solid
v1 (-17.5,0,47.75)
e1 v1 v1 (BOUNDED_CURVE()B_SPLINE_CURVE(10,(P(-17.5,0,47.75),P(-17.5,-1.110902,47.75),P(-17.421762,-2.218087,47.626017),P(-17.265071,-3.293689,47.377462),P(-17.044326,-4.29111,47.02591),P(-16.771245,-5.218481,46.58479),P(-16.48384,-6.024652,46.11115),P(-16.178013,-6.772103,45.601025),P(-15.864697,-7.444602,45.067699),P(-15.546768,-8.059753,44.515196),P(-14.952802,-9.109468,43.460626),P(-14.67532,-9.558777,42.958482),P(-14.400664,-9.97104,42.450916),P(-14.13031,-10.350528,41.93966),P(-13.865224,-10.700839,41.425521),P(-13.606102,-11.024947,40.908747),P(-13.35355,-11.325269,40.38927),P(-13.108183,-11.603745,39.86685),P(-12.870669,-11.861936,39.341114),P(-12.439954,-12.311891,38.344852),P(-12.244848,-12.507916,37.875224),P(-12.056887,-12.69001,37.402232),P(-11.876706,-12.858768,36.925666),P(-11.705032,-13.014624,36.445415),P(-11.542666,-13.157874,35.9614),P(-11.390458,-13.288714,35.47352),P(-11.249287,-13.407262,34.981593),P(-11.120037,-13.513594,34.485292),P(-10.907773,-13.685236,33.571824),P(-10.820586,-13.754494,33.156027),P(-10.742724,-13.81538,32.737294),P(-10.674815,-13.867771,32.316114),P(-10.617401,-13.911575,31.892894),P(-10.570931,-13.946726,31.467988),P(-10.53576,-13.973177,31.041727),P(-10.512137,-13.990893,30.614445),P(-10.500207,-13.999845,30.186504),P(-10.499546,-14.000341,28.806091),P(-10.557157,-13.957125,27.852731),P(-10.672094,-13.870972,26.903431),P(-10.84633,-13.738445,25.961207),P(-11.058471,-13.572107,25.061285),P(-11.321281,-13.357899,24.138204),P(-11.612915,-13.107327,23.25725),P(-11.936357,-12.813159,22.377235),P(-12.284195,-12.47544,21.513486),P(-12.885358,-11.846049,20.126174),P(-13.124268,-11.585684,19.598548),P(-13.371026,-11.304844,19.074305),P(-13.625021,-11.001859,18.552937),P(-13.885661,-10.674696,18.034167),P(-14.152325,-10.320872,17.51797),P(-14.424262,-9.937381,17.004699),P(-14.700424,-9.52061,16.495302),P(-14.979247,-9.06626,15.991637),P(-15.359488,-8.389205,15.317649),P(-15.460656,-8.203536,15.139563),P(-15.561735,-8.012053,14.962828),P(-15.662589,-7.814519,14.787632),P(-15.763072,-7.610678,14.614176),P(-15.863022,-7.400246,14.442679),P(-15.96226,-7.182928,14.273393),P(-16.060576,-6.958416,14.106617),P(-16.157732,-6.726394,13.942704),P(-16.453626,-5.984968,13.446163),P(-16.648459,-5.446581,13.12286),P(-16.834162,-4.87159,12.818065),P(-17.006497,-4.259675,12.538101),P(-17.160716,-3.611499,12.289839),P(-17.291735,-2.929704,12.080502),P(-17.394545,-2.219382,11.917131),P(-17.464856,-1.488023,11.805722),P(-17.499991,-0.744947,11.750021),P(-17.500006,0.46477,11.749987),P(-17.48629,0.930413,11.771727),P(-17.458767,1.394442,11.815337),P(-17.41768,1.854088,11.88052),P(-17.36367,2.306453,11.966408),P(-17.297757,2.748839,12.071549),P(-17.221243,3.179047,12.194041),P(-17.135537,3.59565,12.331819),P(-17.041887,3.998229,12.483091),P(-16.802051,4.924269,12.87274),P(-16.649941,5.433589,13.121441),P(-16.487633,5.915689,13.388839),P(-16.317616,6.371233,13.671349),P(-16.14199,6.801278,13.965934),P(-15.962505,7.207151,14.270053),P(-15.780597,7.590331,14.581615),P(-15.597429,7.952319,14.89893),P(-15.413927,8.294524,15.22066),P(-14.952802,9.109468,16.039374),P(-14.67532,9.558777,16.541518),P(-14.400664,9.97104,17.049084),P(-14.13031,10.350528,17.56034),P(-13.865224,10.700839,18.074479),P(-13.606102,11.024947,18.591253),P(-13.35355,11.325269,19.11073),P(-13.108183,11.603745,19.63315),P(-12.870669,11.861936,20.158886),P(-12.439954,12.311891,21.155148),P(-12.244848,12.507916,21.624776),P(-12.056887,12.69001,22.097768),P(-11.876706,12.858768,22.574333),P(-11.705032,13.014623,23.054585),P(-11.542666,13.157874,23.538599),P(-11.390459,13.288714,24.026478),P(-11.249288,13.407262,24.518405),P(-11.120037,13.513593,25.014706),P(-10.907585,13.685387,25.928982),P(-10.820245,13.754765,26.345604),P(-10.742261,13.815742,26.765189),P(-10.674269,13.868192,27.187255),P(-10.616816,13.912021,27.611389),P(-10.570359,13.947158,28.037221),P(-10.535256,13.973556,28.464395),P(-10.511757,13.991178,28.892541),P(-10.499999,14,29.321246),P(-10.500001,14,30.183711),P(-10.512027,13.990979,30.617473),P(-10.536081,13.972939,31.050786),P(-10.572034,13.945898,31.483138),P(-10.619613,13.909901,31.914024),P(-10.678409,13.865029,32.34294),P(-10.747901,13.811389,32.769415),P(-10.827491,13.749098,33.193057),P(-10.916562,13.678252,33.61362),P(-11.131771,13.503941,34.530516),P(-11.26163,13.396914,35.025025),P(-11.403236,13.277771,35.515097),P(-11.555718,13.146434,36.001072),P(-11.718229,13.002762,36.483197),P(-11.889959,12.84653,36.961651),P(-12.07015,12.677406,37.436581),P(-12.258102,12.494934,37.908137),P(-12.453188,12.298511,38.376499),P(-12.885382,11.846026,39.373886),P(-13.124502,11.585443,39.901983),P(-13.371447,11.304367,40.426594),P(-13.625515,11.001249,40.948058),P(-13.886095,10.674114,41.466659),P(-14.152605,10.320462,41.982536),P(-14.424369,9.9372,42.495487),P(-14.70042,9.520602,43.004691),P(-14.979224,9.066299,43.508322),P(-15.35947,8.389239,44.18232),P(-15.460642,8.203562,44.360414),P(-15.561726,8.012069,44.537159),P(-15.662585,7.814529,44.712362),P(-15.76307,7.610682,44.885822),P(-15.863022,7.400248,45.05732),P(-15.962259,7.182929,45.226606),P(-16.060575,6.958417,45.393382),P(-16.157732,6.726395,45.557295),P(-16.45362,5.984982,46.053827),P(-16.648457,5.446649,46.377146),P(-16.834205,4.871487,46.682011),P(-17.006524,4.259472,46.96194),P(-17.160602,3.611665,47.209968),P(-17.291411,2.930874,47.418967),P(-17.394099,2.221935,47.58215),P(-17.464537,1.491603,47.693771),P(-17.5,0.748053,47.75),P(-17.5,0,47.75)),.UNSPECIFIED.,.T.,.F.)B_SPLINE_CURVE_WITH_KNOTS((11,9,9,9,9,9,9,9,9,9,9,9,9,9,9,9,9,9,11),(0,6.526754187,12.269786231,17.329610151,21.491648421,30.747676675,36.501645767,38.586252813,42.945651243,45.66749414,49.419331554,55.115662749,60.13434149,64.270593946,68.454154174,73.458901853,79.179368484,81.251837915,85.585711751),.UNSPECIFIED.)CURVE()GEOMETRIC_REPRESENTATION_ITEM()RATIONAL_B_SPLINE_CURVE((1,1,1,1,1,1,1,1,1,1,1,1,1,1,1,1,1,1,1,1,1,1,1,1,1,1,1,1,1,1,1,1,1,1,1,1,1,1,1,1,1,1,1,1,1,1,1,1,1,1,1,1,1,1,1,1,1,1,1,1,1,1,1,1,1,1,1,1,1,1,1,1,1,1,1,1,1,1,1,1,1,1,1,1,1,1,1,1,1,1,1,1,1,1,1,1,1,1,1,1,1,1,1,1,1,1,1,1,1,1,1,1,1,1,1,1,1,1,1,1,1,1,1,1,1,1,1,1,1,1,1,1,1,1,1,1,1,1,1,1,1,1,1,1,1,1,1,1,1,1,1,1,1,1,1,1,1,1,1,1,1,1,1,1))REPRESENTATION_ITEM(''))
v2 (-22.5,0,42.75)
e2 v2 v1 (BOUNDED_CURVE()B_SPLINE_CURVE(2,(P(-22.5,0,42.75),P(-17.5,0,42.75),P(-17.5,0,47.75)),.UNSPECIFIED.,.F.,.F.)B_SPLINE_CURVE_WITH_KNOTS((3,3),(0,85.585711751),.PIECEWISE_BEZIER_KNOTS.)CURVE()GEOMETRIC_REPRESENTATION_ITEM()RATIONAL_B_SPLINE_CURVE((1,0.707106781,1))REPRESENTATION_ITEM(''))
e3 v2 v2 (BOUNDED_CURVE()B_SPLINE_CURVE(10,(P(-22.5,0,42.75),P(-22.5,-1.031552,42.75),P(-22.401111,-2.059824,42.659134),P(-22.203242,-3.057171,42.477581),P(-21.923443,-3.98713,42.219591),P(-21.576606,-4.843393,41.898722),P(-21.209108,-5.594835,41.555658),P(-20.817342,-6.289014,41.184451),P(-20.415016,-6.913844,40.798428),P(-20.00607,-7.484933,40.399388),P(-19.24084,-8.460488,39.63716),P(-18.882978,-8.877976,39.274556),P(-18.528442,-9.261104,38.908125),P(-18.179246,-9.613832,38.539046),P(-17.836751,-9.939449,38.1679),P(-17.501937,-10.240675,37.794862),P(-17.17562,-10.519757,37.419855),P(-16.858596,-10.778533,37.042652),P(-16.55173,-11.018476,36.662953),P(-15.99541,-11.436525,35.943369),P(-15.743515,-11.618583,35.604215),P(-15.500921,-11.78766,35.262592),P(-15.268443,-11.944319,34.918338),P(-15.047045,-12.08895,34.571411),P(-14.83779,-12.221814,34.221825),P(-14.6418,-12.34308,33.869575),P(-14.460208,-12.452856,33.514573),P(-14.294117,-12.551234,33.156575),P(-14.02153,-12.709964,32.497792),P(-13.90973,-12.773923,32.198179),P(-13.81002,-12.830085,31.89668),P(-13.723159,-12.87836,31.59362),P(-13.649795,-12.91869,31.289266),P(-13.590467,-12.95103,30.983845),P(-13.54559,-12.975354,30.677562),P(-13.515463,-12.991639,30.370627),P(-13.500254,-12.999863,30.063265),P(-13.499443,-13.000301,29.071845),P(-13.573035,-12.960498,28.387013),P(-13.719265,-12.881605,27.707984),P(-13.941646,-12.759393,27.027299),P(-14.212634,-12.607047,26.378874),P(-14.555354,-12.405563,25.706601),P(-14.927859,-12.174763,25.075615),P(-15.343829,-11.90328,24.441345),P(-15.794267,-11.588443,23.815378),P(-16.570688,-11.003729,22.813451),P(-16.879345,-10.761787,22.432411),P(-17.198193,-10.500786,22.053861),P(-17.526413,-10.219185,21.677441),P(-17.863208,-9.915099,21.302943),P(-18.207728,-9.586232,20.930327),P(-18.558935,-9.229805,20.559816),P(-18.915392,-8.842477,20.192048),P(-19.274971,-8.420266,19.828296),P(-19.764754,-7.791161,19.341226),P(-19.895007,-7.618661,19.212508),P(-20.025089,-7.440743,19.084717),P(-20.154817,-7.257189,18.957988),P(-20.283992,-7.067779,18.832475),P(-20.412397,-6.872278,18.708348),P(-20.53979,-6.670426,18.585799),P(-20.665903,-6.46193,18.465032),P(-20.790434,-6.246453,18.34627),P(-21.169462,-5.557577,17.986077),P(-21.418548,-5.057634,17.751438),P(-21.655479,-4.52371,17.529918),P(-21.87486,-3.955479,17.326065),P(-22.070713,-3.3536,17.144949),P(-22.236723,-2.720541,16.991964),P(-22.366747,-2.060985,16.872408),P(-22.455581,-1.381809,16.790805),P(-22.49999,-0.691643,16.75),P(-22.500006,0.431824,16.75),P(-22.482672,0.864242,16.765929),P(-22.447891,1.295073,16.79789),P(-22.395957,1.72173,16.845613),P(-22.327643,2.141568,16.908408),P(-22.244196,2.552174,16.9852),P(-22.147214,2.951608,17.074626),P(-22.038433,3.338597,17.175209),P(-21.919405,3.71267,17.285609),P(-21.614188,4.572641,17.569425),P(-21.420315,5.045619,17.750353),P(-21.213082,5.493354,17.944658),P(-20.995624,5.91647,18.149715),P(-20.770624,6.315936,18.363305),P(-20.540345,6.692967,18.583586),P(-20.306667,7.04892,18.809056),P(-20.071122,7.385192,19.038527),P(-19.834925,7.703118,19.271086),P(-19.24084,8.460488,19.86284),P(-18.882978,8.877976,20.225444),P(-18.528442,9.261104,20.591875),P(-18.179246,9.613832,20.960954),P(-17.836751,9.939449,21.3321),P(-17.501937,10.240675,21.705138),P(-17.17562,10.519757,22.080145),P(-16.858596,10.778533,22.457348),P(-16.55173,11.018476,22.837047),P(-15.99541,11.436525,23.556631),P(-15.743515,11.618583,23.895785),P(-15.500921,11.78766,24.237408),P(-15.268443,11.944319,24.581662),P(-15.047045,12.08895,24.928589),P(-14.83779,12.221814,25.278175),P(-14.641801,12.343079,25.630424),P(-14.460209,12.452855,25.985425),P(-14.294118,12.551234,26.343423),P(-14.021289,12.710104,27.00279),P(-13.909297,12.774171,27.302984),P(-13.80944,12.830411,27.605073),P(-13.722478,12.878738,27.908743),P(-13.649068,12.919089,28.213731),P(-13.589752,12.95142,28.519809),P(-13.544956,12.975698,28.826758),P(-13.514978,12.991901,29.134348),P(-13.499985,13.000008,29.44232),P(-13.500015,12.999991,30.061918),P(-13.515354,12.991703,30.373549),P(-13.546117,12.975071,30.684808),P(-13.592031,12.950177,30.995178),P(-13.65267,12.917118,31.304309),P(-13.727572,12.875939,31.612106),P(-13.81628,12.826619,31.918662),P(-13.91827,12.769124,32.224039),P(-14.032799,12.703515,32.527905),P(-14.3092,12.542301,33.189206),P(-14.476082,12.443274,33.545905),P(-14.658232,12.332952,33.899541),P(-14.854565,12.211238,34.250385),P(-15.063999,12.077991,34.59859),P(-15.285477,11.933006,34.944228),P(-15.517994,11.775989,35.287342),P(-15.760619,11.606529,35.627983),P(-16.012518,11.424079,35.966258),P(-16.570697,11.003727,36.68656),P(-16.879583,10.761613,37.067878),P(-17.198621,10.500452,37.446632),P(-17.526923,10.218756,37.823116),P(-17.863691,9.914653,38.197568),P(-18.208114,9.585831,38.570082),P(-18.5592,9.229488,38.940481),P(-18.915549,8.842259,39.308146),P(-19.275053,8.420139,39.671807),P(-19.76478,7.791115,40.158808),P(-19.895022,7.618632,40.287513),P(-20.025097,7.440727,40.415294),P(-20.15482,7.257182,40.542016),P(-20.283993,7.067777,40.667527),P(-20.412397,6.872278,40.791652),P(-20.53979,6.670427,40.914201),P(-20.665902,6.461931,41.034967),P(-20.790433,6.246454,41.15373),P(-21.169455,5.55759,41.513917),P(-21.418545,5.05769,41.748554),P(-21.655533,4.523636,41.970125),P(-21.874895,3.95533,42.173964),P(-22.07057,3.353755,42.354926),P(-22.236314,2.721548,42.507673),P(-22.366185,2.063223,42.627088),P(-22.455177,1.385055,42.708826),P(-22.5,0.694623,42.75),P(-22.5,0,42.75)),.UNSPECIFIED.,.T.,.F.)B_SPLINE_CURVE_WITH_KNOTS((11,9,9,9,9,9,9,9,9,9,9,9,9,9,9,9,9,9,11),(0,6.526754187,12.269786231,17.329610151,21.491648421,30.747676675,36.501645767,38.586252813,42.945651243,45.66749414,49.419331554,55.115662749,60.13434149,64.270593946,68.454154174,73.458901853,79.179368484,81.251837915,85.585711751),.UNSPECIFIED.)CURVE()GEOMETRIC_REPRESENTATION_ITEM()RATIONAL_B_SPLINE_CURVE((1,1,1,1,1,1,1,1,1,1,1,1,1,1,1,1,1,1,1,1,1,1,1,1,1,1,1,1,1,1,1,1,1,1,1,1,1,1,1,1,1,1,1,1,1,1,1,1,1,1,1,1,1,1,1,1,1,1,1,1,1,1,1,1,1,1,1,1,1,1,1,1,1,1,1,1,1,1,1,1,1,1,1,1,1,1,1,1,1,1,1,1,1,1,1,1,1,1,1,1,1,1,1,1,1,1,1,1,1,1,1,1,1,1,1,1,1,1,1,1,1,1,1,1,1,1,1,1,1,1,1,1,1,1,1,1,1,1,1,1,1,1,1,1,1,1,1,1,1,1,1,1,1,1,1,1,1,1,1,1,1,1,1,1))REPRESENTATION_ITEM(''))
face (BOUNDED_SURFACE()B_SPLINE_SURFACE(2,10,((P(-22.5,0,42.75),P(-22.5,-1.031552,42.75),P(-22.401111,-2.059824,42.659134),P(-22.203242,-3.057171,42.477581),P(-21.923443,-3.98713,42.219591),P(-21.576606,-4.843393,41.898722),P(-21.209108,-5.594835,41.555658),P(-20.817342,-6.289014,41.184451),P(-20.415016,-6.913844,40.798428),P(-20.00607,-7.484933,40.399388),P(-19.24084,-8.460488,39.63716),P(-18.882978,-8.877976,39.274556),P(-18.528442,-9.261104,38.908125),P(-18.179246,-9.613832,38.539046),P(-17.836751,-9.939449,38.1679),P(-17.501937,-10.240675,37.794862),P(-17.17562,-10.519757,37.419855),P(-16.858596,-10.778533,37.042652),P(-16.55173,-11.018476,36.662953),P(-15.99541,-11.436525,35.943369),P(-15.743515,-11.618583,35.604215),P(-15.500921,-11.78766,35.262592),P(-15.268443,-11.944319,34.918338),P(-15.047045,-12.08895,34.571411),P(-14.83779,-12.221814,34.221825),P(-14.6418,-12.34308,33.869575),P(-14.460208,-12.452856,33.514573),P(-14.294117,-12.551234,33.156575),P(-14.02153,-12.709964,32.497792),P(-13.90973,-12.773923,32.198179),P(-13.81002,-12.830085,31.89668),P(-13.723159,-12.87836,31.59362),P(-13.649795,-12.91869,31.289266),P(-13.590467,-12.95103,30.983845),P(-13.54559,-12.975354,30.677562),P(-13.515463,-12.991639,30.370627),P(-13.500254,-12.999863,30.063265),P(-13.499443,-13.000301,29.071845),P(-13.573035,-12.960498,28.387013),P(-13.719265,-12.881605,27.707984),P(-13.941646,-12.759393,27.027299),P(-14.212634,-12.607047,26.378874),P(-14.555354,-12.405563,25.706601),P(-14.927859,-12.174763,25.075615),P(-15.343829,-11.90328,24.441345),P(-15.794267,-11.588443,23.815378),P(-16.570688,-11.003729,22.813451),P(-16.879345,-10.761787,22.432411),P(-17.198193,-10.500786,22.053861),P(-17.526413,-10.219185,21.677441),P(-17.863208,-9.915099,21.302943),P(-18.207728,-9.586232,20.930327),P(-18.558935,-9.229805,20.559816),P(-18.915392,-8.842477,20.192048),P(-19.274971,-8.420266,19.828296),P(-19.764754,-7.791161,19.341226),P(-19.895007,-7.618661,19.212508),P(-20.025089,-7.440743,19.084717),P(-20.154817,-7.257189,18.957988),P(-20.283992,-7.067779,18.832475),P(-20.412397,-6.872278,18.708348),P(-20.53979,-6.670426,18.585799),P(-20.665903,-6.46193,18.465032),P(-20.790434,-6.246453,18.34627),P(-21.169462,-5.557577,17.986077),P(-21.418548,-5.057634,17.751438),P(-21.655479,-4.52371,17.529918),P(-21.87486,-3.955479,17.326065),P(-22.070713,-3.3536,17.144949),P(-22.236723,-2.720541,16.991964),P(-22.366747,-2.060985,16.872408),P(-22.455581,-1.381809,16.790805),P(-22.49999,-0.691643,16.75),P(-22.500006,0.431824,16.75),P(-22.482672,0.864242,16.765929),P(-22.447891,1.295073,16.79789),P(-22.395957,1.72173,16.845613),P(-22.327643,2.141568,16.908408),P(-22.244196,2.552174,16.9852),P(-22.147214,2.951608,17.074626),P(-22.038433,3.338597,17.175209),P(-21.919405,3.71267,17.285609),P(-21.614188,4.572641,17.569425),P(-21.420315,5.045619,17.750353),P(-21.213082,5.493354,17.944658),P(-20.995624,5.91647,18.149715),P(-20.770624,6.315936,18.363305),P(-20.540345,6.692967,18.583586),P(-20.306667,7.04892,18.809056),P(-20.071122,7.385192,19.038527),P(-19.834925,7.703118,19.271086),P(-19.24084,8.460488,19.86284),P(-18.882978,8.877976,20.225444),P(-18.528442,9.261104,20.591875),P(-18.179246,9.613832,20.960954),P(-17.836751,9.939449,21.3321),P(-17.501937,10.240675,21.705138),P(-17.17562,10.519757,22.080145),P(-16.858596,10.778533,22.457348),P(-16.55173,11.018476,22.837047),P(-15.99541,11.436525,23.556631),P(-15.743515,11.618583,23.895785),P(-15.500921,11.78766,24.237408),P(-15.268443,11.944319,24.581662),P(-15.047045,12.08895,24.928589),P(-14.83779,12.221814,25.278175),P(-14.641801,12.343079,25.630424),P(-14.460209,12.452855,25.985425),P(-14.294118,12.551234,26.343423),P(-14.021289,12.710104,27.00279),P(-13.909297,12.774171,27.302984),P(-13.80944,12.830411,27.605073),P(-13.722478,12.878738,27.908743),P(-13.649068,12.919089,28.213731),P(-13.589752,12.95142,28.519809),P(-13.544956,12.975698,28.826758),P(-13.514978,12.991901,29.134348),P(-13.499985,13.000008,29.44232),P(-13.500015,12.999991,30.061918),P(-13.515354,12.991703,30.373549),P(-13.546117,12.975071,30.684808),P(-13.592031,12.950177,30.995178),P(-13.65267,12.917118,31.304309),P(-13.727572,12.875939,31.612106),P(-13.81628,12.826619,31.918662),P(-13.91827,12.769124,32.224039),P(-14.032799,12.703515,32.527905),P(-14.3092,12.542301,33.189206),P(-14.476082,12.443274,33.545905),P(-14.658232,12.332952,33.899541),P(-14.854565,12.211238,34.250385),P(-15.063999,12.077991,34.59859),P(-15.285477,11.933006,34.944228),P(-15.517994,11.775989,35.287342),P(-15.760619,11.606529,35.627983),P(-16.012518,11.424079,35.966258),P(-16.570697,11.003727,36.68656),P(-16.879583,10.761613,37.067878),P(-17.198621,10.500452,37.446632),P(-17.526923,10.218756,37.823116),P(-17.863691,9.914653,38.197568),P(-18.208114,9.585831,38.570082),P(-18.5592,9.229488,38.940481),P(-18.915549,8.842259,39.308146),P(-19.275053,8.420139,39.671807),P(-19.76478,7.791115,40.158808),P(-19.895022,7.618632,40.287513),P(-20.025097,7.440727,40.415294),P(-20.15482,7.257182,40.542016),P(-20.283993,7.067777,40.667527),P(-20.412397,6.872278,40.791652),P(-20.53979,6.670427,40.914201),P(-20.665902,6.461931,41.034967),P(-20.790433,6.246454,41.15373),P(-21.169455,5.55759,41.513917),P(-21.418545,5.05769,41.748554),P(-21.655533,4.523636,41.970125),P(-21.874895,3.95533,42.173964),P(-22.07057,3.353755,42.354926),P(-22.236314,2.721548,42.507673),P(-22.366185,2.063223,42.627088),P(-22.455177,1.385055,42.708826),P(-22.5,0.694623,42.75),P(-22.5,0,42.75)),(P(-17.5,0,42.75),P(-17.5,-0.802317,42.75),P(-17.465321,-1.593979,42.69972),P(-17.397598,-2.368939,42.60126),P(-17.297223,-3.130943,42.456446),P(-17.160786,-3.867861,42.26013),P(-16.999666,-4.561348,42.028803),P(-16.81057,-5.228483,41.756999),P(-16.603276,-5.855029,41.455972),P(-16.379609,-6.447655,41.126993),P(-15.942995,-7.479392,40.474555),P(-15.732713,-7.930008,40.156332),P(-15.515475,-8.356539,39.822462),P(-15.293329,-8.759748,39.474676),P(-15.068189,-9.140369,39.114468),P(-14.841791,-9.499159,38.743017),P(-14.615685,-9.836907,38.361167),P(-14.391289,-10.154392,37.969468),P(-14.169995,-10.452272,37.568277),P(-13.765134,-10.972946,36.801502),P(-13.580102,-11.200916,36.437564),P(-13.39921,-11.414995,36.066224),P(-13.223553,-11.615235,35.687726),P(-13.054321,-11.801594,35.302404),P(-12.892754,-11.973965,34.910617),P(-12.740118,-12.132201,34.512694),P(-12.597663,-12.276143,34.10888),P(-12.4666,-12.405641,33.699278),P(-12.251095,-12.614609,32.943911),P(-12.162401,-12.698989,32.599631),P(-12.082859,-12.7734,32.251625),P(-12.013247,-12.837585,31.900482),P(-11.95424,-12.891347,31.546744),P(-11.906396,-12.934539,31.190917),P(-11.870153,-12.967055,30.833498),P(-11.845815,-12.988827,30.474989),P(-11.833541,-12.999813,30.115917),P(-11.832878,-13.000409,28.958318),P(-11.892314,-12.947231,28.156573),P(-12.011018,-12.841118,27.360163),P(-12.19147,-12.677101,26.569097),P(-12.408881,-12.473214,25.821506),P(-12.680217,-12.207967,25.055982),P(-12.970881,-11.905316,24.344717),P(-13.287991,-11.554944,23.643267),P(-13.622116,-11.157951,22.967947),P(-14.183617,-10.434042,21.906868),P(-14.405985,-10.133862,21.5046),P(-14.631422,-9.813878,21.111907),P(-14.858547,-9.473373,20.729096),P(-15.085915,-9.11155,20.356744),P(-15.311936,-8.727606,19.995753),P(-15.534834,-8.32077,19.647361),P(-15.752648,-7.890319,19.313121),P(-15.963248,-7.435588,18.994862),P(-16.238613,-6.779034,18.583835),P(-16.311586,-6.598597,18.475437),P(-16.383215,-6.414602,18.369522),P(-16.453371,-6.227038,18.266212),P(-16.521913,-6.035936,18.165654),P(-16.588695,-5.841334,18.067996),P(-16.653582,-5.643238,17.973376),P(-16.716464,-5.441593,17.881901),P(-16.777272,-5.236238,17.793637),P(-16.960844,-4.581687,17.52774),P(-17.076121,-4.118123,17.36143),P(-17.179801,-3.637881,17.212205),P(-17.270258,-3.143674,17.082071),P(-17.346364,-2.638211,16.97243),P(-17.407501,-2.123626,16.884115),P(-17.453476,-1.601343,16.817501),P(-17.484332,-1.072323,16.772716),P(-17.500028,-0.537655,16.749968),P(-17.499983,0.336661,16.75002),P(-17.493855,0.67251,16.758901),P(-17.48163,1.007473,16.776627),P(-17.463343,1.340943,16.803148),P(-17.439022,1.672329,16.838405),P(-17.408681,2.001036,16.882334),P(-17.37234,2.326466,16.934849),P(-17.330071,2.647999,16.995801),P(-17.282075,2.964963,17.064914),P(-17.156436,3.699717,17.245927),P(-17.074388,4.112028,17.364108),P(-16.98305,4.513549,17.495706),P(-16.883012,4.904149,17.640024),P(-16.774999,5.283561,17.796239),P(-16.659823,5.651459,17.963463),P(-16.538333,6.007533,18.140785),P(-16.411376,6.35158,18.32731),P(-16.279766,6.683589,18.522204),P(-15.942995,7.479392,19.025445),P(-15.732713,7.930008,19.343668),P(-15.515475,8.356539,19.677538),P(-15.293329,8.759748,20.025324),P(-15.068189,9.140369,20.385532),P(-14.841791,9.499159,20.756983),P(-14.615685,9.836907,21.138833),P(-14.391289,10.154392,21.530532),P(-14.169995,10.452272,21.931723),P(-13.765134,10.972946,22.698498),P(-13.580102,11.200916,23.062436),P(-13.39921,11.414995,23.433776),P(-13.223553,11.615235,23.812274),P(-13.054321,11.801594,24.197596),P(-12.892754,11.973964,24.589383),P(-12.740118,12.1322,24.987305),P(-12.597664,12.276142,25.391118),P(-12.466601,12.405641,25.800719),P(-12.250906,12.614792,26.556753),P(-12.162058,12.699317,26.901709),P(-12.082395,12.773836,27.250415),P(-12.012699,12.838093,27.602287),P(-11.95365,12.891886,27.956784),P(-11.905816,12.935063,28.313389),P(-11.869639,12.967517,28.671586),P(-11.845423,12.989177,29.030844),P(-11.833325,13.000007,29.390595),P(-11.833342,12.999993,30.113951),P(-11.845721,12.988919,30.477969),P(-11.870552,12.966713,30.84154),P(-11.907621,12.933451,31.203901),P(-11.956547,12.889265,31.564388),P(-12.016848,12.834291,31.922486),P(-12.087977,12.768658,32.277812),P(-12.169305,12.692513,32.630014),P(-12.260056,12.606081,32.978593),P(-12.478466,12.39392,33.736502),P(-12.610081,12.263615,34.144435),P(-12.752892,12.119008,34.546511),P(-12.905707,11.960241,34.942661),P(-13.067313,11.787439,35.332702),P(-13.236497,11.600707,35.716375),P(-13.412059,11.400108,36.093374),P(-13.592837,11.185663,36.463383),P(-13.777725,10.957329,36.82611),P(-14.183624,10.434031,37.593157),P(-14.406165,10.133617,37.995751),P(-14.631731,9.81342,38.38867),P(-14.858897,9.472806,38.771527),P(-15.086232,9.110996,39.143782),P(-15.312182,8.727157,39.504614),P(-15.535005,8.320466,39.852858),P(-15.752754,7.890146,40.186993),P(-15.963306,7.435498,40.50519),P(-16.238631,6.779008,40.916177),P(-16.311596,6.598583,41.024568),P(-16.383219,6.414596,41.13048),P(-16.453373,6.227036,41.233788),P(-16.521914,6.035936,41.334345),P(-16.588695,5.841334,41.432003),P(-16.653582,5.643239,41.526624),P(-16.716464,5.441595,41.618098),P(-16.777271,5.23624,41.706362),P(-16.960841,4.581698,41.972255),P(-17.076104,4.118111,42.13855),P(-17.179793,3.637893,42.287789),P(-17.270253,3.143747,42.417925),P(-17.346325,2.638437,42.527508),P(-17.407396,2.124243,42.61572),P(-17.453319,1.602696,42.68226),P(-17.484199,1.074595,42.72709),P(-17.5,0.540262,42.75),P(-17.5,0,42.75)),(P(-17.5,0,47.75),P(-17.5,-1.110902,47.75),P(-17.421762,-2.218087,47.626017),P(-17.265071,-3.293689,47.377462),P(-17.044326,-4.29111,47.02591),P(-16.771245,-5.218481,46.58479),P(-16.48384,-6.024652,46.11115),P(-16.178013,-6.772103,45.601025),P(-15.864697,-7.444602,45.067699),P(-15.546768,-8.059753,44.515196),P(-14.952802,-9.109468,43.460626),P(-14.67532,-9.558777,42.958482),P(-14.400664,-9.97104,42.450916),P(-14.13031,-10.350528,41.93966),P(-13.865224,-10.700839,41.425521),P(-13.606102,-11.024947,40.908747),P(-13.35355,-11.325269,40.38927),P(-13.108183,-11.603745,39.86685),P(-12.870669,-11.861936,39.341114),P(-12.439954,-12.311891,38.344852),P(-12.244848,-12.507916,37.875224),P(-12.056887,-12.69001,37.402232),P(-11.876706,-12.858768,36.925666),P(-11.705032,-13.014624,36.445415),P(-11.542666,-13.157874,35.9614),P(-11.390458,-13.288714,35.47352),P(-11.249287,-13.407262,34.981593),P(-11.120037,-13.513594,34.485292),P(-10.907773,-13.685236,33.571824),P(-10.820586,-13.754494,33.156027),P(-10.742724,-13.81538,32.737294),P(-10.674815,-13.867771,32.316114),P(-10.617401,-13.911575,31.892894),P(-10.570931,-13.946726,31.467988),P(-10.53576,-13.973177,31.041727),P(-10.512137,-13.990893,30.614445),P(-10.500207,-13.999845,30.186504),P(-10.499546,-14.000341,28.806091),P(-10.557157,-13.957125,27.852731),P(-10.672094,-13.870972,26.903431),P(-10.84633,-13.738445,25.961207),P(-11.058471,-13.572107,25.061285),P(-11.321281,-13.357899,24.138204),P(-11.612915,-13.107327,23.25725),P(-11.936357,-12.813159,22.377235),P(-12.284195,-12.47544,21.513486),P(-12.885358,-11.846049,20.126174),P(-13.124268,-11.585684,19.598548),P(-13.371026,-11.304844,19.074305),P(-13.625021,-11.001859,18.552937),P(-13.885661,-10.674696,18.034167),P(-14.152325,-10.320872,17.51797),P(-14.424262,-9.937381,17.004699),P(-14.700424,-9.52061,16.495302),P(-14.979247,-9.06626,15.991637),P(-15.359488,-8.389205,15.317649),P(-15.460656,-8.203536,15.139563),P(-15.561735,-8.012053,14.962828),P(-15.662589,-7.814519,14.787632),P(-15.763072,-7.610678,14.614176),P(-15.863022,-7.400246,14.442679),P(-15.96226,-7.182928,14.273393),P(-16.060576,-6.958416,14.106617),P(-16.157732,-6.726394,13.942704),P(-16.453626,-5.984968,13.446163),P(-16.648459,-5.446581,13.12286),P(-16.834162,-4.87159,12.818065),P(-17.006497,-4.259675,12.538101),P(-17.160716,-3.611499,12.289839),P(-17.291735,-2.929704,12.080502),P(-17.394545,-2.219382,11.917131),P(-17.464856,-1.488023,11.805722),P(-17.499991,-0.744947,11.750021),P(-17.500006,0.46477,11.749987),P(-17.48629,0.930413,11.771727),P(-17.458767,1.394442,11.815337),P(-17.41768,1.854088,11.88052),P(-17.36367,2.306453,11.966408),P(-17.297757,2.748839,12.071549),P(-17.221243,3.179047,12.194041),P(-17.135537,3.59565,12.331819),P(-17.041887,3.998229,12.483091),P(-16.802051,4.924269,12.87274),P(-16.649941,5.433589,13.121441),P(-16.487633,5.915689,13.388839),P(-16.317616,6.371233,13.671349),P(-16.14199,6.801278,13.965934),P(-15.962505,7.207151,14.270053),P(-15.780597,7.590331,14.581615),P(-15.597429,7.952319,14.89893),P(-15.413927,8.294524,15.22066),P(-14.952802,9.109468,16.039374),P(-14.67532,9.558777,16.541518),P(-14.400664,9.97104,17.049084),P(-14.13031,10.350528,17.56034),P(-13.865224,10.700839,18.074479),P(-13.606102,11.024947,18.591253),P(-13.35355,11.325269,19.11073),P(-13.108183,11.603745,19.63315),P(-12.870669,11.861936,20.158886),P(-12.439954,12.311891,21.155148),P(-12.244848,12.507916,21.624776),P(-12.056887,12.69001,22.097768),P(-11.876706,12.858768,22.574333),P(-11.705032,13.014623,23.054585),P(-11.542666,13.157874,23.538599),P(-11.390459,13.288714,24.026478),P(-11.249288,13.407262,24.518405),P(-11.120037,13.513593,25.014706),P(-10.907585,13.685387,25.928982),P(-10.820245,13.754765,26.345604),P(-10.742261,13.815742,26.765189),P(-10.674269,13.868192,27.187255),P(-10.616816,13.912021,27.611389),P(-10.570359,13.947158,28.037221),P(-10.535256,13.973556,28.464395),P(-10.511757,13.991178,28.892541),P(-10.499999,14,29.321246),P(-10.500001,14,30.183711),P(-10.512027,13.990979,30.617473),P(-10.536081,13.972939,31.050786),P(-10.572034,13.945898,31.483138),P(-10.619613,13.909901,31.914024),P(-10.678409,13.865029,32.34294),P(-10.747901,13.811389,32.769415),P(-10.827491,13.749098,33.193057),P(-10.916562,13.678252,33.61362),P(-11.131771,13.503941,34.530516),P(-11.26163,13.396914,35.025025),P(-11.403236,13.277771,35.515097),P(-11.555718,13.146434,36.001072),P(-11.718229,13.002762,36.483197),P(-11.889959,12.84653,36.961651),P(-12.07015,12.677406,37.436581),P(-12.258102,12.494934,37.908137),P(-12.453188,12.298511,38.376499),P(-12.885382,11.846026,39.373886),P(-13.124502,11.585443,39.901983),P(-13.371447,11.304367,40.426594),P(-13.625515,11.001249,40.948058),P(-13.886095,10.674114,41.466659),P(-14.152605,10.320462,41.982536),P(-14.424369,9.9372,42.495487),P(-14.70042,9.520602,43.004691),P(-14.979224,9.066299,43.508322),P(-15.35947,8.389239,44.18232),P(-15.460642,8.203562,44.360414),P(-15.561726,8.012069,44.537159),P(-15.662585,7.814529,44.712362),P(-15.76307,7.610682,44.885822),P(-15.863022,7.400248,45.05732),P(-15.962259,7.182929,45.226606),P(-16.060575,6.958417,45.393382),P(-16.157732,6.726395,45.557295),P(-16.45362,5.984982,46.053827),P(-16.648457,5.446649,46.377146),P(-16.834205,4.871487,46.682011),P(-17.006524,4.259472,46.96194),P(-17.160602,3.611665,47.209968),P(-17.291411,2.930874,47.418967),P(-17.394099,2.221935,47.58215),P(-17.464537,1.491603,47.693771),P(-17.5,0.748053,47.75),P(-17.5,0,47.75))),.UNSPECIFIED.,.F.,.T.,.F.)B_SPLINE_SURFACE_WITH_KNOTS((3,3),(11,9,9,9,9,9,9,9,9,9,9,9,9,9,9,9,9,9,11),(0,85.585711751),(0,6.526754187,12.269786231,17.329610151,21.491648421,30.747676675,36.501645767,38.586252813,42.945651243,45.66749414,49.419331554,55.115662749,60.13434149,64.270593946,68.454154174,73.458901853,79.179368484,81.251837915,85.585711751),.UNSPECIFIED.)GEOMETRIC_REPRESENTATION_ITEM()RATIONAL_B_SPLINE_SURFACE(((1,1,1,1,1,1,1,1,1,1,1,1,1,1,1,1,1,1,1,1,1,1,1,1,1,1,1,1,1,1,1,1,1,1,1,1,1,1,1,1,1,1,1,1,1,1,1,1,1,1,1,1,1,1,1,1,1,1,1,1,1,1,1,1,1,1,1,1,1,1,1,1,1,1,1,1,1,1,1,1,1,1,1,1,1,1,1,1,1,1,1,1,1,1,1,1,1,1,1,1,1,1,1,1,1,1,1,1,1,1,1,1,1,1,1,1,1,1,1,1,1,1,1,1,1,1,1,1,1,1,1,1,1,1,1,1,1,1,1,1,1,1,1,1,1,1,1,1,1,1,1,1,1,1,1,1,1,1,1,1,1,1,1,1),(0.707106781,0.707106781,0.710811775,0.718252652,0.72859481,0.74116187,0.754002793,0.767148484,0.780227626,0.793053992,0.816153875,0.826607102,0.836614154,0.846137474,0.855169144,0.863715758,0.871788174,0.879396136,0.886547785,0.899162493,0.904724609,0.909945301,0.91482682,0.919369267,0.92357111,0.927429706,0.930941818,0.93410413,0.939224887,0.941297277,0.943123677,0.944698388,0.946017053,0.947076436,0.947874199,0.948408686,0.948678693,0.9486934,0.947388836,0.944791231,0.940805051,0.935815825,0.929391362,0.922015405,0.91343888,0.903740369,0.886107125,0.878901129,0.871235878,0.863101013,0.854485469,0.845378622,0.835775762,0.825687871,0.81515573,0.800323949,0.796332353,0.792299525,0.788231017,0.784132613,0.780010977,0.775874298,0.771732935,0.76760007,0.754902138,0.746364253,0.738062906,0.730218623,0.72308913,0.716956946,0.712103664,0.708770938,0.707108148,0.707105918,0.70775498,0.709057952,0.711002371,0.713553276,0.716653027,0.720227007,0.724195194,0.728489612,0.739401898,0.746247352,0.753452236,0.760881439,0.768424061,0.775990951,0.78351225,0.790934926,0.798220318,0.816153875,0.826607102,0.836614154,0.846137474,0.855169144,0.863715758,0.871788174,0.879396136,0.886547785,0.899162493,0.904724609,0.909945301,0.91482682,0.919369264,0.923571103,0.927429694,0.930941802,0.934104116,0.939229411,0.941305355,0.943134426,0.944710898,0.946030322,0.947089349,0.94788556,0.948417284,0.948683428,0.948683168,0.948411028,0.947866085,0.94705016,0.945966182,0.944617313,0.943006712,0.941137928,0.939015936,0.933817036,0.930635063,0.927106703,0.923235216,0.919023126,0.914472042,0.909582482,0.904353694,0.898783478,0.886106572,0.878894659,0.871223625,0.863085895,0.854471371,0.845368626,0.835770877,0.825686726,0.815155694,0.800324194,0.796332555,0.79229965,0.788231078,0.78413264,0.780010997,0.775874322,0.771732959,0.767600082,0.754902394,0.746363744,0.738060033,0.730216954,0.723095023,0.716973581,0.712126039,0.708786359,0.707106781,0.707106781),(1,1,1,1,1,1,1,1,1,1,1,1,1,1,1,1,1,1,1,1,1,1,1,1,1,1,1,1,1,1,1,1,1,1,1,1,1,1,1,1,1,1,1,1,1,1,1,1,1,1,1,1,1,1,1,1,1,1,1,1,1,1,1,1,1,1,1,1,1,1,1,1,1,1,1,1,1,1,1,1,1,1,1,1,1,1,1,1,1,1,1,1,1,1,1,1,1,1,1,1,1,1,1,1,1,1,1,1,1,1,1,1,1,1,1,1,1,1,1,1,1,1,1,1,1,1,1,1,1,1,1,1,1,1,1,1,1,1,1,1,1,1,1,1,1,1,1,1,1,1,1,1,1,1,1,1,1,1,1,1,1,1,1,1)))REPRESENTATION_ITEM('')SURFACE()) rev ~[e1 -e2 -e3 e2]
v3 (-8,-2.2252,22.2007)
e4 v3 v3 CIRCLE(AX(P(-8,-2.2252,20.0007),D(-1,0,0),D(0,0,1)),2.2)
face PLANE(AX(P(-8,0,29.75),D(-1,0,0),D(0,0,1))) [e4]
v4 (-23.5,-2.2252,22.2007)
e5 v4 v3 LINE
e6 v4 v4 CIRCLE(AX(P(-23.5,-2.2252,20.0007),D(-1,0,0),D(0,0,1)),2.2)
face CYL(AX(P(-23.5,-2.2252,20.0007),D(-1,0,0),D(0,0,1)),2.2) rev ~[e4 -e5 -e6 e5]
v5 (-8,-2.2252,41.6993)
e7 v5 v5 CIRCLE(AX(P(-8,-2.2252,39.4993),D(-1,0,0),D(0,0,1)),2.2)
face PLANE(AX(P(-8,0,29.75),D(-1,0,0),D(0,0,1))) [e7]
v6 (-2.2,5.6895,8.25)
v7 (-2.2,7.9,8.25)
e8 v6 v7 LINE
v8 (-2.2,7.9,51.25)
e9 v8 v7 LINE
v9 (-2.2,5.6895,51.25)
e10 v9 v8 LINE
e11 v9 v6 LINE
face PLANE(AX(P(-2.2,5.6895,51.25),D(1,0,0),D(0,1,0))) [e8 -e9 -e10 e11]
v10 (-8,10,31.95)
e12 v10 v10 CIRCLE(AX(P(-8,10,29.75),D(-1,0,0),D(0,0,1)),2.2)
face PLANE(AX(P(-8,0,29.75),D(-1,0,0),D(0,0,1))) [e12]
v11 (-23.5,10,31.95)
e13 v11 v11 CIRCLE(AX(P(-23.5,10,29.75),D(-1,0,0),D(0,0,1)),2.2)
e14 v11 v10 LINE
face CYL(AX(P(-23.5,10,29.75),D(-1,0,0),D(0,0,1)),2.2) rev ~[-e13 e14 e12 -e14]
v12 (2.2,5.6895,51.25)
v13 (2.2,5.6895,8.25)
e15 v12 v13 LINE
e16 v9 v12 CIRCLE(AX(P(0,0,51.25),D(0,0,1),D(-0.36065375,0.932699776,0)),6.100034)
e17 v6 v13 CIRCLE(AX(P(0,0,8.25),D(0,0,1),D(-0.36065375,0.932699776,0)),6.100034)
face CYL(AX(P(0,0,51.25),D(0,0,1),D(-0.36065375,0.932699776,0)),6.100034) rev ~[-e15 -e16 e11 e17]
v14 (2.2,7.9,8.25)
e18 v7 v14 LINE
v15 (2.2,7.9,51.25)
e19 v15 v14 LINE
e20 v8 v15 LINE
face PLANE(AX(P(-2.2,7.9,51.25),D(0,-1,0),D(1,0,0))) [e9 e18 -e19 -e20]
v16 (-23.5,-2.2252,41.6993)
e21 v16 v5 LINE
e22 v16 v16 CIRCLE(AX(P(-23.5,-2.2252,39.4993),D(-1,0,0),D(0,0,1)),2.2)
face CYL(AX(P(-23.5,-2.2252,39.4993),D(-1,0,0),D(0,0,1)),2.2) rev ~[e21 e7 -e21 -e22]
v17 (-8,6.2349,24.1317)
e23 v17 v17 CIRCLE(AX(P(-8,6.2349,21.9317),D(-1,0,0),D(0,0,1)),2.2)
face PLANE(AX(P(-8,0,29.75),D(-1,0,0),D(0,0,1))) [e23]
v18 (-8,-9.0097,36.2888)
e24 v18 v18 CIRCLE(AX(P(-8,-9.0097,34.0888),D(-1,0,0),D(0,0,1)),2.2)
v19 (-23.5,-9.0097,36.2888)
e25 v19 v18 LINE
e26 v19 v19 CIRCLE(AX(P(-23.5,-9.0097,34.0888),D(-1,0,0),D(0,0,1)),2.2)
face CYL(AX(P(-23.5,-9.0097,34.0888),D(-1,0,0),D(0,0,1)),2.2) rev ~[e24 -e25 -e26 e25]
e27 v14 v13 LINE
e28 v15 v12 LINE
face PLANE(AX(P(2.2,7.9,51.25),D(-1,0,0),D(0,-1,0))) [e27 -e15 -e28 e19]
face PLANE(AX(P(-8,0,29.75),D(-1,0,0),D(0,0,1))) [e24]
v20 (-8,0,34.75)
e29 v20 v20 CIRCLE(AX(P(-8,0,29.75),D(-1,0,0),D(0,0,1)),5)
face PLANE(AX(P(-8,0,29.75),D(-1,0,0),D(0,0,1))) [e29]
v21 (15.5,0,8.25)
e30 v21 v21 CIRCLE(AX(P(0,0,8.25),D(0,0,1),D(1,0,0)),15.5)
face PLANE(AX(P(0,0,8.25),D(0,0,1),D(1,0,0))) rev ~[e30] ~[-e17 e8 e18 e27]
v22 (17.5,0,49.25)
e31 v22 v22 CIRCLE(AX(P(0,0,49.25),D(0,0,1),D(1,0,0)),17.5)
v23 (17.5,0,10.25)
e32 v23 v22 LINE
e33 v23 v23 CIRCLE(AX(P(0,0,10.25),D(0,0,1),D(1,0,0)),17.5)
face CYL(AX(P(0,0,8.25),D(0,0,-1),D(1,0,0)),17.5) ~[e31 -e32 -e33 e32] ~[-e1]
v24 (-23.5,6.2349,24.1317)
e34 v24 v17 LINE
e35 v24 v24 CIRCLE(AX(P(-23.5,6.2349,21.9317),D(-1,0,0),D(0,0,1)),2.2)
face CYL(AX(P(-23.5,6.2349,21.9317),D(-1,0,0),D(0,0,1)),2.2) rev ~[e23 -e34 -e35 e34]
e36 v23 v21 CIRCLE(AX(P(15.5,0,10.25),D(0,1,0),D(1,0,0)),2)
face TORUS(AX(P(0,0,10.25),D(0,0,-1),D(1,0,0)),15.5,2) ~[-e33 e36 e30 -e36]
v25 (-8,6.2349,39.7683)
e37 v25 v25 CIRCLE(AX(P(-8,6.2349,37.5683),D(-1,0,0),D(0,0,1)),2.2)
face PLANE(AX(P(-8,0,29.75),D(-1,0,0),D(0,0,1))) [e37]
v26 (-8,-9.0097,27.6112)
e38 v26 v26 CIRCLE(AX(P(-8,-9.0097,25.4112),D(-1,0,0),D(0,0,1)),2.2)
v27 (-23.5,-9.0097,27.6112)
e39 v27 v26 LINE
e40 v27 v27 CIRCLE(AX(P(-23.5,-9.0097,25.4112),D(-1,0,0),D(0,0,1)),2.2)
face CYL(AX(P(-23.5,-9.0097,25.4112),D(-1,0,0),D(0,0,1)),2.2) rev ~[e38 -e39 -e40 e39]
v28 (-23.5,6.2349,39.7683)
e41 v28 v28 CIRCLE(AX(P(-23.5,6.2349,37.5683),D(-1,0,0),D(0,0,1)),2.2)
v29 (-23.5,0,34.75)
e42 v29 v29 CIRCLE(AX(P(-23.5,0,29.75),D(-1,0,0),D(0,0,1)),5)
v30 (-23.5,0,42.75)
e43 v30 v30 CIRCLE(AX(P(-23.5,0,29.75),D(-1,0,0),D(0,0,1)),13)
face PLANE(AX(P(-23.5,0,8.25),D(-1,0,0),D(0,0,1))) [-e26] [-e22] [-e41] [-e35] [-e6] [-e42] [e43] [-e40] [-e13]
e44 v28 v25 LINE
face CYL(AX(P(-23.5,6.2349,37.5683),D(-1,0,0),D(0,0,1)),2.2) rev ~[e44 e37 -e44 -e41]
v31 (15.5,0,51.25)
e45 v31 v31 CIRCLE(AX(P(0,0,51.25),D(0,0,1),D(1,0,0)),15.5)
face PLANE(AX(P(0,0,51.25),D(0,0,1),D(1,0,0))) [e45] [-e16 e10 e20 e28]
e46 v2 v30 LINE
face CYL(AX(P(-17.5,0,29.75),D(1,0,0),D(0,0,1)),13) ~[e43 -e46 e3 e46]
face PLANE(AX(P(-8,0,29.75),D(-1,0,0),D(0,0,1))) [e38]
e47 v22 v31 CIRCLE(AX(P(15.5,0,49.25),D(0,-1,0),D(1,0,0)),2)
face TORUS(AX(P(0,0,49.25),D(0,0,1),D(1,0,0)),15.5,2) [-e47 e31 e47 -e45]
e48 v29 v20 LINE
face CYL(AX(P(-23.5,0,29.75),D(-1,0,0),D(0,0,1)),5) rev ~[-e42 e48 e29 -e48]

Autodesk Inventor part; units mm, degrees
ref_plane "РабПлоскость1" through (0, 0, 8.25) normal (0, 0, 1) x (1, 0, 0)
sketch "Эскиз1" plane through (0, 0, 8.25) normal (0, 0, 1) x (1, 0, 0)
  circle A0 centre (0, 0) radius 17.5
  circle A1 centre (0, 0) radius 6
  dimension "d1" = 35
  dimension "d2" = 12
extrude "Выдавливание1" add sketch "Эскиз1" along normal blind 43
ref_plane "РабПлоскость2" through (0, -17.5, 8.25) normal (0, 1, 0) x (-1, 0, 0)
ref_plane "РабПлоскость3" through (-17.5, 0, 8.25) normal (1, 0, 0) x (0, 1, 0)
sketch "Эскиз2" plane through (-17.5, 0, 8.25) normal (1, 0, 0) x (0, 1, 0)
  line L0 (17.5, 43) -> (-17.5, 43) projected
  line L1 (0, 43) -> (0, 0) construction
  line L2 (17.5, 0) -> (-17.5, 0) projected
  circle A0 centre (0, 21.5) radius 13
  point P0 (0, -8.25)
  dimension "d23" = 26
extrude "Выдавливание2" add sketch "Эскиз2" along normal up to surface
sketch "Эскиз3" plane through (-17.5, 0, 8.25) normal (-1, 0, 0) x (0, 0, 1)
  arc A0 (8.5, 0) -> (34.5, 0) centre (21.5, 0) ccw construction
  circle A1 centre (21.5, 0) radius 13
  point P0 (-8.25, 0)
  point P1 (40, 0)
  point P2 (5, 0)
  point P3 (39, 0)
  point P4 (4, 0)
  point P5 (6.5, 0)
  point P6 (36.5, 0)
extrude "Выдавливание3" add sketch "Эскиз3" along normal blind 6
fillet "Сопряжение1" radius 5 3 edges at (-11.7154, -13, 29.7735) (-14.4476, 9.875, 21.2952) (-14.4454, 9.8782, 38.201)
fillet "Сопряжение2" radius 2 2 edges at (-17.5, 0, 8.25) (-17.5, 0, 51.25)
sketch "Эскиз5" plane through (-23.5, 0, 29.75) normal (-1, 0, 0) x (0, 0, 1)
  circle A0 centre (0, 0) radius 5
  circle A1 centre (0, 0) radius 10 construction
  circle A2 centre (0, 10) radius 2.2
  circle A3 centre (-7.8183, 6.2349) radius 2.2
  circle A4 centre (-9.7493, -2.2252) radius 2.2
  circle A5 centre (-4.3388, -9.0097) radius 2.2
  circle A6 centre (4.3388, -9.0097) radius 2.2
  circle A7 centre (9.7493, -2.2252) radius 2.2
  circle A8 centre (7.8183, 6.2349) radius 2.2
  point P0 (-29.75, 0)
  dimension "d17" = 20
  dimension "d14" = 10
  dimension "d18" = 4.4
  dimension "d21" = 360
extrude "Выдавливание5" cut sketch "Эскиз5" against normal blind 15.5
sketch "Эскиз6" plane through (0, 0, 8.25) normal (0, 0, -1) x (-1, 0, 0)
  line L0 (-2.1, 2.2009) -> (2.1, 2.2009)
  line L1 (2.1, 2.2009) -> (2.1, 7.8)
  line L2 (2.1, 7.8) -> (-2.1, 7.8)
  line L3 (-2.1, 7.8) -> (-2.1, 2.2009)
  line L4 (-2.1, 2.2009) -> (2.1, 7.8) construction
  line L5 (2.1, 2.2009) -> (-2.1, 7.8) construction
  circle A0 centre (0, 0) radius 6 projected
  point P0 (0, 5.0005)
  point P1 (-2.1, 5.6205)
  point P2 (2.1, 5.6205)
  dimension "d24" = 4.2
  dimension "d25" = 7.8
extrude "Выдавливание6" cut sketch "Эскиз6" against normal through all contours L3 L2 L1 A0
sketch "Эскиз7" plane through (0, 0, 51.25) normal (0, 0, 1) x (1, 0, 0)
  arc A0 (-2.1, 5.6205) -> (2.1, 5.6205) centre (0, 0) ccw construction
  line L0 (2.1, 7.8) -> (2.1, 5.6205) construction
  line L1 (-2.1, 5.6205) -> (-2.1, 7.8) construction
  line L2 (-2.1, 7.8) -> (2.1, 7.8) construction
  arc A1 (-2.2, 5.6895) -> (2.2, 5.6895) centre (0, 0) ccw
  line L3 (-2.2, 5.6895) -> (-2.2, 7.9)
  line L4 (-2.2, 7.9) -> (2.2, 7.9)
  line L5 (2.2, 7.9) -> (2.2, 5.6895)
  dimension "d28" = 0.1
extrude "Выдавливание7" cut sketch "Эскиз7" against normal blind 56.75
properties part number "Крпеление ОУ"
